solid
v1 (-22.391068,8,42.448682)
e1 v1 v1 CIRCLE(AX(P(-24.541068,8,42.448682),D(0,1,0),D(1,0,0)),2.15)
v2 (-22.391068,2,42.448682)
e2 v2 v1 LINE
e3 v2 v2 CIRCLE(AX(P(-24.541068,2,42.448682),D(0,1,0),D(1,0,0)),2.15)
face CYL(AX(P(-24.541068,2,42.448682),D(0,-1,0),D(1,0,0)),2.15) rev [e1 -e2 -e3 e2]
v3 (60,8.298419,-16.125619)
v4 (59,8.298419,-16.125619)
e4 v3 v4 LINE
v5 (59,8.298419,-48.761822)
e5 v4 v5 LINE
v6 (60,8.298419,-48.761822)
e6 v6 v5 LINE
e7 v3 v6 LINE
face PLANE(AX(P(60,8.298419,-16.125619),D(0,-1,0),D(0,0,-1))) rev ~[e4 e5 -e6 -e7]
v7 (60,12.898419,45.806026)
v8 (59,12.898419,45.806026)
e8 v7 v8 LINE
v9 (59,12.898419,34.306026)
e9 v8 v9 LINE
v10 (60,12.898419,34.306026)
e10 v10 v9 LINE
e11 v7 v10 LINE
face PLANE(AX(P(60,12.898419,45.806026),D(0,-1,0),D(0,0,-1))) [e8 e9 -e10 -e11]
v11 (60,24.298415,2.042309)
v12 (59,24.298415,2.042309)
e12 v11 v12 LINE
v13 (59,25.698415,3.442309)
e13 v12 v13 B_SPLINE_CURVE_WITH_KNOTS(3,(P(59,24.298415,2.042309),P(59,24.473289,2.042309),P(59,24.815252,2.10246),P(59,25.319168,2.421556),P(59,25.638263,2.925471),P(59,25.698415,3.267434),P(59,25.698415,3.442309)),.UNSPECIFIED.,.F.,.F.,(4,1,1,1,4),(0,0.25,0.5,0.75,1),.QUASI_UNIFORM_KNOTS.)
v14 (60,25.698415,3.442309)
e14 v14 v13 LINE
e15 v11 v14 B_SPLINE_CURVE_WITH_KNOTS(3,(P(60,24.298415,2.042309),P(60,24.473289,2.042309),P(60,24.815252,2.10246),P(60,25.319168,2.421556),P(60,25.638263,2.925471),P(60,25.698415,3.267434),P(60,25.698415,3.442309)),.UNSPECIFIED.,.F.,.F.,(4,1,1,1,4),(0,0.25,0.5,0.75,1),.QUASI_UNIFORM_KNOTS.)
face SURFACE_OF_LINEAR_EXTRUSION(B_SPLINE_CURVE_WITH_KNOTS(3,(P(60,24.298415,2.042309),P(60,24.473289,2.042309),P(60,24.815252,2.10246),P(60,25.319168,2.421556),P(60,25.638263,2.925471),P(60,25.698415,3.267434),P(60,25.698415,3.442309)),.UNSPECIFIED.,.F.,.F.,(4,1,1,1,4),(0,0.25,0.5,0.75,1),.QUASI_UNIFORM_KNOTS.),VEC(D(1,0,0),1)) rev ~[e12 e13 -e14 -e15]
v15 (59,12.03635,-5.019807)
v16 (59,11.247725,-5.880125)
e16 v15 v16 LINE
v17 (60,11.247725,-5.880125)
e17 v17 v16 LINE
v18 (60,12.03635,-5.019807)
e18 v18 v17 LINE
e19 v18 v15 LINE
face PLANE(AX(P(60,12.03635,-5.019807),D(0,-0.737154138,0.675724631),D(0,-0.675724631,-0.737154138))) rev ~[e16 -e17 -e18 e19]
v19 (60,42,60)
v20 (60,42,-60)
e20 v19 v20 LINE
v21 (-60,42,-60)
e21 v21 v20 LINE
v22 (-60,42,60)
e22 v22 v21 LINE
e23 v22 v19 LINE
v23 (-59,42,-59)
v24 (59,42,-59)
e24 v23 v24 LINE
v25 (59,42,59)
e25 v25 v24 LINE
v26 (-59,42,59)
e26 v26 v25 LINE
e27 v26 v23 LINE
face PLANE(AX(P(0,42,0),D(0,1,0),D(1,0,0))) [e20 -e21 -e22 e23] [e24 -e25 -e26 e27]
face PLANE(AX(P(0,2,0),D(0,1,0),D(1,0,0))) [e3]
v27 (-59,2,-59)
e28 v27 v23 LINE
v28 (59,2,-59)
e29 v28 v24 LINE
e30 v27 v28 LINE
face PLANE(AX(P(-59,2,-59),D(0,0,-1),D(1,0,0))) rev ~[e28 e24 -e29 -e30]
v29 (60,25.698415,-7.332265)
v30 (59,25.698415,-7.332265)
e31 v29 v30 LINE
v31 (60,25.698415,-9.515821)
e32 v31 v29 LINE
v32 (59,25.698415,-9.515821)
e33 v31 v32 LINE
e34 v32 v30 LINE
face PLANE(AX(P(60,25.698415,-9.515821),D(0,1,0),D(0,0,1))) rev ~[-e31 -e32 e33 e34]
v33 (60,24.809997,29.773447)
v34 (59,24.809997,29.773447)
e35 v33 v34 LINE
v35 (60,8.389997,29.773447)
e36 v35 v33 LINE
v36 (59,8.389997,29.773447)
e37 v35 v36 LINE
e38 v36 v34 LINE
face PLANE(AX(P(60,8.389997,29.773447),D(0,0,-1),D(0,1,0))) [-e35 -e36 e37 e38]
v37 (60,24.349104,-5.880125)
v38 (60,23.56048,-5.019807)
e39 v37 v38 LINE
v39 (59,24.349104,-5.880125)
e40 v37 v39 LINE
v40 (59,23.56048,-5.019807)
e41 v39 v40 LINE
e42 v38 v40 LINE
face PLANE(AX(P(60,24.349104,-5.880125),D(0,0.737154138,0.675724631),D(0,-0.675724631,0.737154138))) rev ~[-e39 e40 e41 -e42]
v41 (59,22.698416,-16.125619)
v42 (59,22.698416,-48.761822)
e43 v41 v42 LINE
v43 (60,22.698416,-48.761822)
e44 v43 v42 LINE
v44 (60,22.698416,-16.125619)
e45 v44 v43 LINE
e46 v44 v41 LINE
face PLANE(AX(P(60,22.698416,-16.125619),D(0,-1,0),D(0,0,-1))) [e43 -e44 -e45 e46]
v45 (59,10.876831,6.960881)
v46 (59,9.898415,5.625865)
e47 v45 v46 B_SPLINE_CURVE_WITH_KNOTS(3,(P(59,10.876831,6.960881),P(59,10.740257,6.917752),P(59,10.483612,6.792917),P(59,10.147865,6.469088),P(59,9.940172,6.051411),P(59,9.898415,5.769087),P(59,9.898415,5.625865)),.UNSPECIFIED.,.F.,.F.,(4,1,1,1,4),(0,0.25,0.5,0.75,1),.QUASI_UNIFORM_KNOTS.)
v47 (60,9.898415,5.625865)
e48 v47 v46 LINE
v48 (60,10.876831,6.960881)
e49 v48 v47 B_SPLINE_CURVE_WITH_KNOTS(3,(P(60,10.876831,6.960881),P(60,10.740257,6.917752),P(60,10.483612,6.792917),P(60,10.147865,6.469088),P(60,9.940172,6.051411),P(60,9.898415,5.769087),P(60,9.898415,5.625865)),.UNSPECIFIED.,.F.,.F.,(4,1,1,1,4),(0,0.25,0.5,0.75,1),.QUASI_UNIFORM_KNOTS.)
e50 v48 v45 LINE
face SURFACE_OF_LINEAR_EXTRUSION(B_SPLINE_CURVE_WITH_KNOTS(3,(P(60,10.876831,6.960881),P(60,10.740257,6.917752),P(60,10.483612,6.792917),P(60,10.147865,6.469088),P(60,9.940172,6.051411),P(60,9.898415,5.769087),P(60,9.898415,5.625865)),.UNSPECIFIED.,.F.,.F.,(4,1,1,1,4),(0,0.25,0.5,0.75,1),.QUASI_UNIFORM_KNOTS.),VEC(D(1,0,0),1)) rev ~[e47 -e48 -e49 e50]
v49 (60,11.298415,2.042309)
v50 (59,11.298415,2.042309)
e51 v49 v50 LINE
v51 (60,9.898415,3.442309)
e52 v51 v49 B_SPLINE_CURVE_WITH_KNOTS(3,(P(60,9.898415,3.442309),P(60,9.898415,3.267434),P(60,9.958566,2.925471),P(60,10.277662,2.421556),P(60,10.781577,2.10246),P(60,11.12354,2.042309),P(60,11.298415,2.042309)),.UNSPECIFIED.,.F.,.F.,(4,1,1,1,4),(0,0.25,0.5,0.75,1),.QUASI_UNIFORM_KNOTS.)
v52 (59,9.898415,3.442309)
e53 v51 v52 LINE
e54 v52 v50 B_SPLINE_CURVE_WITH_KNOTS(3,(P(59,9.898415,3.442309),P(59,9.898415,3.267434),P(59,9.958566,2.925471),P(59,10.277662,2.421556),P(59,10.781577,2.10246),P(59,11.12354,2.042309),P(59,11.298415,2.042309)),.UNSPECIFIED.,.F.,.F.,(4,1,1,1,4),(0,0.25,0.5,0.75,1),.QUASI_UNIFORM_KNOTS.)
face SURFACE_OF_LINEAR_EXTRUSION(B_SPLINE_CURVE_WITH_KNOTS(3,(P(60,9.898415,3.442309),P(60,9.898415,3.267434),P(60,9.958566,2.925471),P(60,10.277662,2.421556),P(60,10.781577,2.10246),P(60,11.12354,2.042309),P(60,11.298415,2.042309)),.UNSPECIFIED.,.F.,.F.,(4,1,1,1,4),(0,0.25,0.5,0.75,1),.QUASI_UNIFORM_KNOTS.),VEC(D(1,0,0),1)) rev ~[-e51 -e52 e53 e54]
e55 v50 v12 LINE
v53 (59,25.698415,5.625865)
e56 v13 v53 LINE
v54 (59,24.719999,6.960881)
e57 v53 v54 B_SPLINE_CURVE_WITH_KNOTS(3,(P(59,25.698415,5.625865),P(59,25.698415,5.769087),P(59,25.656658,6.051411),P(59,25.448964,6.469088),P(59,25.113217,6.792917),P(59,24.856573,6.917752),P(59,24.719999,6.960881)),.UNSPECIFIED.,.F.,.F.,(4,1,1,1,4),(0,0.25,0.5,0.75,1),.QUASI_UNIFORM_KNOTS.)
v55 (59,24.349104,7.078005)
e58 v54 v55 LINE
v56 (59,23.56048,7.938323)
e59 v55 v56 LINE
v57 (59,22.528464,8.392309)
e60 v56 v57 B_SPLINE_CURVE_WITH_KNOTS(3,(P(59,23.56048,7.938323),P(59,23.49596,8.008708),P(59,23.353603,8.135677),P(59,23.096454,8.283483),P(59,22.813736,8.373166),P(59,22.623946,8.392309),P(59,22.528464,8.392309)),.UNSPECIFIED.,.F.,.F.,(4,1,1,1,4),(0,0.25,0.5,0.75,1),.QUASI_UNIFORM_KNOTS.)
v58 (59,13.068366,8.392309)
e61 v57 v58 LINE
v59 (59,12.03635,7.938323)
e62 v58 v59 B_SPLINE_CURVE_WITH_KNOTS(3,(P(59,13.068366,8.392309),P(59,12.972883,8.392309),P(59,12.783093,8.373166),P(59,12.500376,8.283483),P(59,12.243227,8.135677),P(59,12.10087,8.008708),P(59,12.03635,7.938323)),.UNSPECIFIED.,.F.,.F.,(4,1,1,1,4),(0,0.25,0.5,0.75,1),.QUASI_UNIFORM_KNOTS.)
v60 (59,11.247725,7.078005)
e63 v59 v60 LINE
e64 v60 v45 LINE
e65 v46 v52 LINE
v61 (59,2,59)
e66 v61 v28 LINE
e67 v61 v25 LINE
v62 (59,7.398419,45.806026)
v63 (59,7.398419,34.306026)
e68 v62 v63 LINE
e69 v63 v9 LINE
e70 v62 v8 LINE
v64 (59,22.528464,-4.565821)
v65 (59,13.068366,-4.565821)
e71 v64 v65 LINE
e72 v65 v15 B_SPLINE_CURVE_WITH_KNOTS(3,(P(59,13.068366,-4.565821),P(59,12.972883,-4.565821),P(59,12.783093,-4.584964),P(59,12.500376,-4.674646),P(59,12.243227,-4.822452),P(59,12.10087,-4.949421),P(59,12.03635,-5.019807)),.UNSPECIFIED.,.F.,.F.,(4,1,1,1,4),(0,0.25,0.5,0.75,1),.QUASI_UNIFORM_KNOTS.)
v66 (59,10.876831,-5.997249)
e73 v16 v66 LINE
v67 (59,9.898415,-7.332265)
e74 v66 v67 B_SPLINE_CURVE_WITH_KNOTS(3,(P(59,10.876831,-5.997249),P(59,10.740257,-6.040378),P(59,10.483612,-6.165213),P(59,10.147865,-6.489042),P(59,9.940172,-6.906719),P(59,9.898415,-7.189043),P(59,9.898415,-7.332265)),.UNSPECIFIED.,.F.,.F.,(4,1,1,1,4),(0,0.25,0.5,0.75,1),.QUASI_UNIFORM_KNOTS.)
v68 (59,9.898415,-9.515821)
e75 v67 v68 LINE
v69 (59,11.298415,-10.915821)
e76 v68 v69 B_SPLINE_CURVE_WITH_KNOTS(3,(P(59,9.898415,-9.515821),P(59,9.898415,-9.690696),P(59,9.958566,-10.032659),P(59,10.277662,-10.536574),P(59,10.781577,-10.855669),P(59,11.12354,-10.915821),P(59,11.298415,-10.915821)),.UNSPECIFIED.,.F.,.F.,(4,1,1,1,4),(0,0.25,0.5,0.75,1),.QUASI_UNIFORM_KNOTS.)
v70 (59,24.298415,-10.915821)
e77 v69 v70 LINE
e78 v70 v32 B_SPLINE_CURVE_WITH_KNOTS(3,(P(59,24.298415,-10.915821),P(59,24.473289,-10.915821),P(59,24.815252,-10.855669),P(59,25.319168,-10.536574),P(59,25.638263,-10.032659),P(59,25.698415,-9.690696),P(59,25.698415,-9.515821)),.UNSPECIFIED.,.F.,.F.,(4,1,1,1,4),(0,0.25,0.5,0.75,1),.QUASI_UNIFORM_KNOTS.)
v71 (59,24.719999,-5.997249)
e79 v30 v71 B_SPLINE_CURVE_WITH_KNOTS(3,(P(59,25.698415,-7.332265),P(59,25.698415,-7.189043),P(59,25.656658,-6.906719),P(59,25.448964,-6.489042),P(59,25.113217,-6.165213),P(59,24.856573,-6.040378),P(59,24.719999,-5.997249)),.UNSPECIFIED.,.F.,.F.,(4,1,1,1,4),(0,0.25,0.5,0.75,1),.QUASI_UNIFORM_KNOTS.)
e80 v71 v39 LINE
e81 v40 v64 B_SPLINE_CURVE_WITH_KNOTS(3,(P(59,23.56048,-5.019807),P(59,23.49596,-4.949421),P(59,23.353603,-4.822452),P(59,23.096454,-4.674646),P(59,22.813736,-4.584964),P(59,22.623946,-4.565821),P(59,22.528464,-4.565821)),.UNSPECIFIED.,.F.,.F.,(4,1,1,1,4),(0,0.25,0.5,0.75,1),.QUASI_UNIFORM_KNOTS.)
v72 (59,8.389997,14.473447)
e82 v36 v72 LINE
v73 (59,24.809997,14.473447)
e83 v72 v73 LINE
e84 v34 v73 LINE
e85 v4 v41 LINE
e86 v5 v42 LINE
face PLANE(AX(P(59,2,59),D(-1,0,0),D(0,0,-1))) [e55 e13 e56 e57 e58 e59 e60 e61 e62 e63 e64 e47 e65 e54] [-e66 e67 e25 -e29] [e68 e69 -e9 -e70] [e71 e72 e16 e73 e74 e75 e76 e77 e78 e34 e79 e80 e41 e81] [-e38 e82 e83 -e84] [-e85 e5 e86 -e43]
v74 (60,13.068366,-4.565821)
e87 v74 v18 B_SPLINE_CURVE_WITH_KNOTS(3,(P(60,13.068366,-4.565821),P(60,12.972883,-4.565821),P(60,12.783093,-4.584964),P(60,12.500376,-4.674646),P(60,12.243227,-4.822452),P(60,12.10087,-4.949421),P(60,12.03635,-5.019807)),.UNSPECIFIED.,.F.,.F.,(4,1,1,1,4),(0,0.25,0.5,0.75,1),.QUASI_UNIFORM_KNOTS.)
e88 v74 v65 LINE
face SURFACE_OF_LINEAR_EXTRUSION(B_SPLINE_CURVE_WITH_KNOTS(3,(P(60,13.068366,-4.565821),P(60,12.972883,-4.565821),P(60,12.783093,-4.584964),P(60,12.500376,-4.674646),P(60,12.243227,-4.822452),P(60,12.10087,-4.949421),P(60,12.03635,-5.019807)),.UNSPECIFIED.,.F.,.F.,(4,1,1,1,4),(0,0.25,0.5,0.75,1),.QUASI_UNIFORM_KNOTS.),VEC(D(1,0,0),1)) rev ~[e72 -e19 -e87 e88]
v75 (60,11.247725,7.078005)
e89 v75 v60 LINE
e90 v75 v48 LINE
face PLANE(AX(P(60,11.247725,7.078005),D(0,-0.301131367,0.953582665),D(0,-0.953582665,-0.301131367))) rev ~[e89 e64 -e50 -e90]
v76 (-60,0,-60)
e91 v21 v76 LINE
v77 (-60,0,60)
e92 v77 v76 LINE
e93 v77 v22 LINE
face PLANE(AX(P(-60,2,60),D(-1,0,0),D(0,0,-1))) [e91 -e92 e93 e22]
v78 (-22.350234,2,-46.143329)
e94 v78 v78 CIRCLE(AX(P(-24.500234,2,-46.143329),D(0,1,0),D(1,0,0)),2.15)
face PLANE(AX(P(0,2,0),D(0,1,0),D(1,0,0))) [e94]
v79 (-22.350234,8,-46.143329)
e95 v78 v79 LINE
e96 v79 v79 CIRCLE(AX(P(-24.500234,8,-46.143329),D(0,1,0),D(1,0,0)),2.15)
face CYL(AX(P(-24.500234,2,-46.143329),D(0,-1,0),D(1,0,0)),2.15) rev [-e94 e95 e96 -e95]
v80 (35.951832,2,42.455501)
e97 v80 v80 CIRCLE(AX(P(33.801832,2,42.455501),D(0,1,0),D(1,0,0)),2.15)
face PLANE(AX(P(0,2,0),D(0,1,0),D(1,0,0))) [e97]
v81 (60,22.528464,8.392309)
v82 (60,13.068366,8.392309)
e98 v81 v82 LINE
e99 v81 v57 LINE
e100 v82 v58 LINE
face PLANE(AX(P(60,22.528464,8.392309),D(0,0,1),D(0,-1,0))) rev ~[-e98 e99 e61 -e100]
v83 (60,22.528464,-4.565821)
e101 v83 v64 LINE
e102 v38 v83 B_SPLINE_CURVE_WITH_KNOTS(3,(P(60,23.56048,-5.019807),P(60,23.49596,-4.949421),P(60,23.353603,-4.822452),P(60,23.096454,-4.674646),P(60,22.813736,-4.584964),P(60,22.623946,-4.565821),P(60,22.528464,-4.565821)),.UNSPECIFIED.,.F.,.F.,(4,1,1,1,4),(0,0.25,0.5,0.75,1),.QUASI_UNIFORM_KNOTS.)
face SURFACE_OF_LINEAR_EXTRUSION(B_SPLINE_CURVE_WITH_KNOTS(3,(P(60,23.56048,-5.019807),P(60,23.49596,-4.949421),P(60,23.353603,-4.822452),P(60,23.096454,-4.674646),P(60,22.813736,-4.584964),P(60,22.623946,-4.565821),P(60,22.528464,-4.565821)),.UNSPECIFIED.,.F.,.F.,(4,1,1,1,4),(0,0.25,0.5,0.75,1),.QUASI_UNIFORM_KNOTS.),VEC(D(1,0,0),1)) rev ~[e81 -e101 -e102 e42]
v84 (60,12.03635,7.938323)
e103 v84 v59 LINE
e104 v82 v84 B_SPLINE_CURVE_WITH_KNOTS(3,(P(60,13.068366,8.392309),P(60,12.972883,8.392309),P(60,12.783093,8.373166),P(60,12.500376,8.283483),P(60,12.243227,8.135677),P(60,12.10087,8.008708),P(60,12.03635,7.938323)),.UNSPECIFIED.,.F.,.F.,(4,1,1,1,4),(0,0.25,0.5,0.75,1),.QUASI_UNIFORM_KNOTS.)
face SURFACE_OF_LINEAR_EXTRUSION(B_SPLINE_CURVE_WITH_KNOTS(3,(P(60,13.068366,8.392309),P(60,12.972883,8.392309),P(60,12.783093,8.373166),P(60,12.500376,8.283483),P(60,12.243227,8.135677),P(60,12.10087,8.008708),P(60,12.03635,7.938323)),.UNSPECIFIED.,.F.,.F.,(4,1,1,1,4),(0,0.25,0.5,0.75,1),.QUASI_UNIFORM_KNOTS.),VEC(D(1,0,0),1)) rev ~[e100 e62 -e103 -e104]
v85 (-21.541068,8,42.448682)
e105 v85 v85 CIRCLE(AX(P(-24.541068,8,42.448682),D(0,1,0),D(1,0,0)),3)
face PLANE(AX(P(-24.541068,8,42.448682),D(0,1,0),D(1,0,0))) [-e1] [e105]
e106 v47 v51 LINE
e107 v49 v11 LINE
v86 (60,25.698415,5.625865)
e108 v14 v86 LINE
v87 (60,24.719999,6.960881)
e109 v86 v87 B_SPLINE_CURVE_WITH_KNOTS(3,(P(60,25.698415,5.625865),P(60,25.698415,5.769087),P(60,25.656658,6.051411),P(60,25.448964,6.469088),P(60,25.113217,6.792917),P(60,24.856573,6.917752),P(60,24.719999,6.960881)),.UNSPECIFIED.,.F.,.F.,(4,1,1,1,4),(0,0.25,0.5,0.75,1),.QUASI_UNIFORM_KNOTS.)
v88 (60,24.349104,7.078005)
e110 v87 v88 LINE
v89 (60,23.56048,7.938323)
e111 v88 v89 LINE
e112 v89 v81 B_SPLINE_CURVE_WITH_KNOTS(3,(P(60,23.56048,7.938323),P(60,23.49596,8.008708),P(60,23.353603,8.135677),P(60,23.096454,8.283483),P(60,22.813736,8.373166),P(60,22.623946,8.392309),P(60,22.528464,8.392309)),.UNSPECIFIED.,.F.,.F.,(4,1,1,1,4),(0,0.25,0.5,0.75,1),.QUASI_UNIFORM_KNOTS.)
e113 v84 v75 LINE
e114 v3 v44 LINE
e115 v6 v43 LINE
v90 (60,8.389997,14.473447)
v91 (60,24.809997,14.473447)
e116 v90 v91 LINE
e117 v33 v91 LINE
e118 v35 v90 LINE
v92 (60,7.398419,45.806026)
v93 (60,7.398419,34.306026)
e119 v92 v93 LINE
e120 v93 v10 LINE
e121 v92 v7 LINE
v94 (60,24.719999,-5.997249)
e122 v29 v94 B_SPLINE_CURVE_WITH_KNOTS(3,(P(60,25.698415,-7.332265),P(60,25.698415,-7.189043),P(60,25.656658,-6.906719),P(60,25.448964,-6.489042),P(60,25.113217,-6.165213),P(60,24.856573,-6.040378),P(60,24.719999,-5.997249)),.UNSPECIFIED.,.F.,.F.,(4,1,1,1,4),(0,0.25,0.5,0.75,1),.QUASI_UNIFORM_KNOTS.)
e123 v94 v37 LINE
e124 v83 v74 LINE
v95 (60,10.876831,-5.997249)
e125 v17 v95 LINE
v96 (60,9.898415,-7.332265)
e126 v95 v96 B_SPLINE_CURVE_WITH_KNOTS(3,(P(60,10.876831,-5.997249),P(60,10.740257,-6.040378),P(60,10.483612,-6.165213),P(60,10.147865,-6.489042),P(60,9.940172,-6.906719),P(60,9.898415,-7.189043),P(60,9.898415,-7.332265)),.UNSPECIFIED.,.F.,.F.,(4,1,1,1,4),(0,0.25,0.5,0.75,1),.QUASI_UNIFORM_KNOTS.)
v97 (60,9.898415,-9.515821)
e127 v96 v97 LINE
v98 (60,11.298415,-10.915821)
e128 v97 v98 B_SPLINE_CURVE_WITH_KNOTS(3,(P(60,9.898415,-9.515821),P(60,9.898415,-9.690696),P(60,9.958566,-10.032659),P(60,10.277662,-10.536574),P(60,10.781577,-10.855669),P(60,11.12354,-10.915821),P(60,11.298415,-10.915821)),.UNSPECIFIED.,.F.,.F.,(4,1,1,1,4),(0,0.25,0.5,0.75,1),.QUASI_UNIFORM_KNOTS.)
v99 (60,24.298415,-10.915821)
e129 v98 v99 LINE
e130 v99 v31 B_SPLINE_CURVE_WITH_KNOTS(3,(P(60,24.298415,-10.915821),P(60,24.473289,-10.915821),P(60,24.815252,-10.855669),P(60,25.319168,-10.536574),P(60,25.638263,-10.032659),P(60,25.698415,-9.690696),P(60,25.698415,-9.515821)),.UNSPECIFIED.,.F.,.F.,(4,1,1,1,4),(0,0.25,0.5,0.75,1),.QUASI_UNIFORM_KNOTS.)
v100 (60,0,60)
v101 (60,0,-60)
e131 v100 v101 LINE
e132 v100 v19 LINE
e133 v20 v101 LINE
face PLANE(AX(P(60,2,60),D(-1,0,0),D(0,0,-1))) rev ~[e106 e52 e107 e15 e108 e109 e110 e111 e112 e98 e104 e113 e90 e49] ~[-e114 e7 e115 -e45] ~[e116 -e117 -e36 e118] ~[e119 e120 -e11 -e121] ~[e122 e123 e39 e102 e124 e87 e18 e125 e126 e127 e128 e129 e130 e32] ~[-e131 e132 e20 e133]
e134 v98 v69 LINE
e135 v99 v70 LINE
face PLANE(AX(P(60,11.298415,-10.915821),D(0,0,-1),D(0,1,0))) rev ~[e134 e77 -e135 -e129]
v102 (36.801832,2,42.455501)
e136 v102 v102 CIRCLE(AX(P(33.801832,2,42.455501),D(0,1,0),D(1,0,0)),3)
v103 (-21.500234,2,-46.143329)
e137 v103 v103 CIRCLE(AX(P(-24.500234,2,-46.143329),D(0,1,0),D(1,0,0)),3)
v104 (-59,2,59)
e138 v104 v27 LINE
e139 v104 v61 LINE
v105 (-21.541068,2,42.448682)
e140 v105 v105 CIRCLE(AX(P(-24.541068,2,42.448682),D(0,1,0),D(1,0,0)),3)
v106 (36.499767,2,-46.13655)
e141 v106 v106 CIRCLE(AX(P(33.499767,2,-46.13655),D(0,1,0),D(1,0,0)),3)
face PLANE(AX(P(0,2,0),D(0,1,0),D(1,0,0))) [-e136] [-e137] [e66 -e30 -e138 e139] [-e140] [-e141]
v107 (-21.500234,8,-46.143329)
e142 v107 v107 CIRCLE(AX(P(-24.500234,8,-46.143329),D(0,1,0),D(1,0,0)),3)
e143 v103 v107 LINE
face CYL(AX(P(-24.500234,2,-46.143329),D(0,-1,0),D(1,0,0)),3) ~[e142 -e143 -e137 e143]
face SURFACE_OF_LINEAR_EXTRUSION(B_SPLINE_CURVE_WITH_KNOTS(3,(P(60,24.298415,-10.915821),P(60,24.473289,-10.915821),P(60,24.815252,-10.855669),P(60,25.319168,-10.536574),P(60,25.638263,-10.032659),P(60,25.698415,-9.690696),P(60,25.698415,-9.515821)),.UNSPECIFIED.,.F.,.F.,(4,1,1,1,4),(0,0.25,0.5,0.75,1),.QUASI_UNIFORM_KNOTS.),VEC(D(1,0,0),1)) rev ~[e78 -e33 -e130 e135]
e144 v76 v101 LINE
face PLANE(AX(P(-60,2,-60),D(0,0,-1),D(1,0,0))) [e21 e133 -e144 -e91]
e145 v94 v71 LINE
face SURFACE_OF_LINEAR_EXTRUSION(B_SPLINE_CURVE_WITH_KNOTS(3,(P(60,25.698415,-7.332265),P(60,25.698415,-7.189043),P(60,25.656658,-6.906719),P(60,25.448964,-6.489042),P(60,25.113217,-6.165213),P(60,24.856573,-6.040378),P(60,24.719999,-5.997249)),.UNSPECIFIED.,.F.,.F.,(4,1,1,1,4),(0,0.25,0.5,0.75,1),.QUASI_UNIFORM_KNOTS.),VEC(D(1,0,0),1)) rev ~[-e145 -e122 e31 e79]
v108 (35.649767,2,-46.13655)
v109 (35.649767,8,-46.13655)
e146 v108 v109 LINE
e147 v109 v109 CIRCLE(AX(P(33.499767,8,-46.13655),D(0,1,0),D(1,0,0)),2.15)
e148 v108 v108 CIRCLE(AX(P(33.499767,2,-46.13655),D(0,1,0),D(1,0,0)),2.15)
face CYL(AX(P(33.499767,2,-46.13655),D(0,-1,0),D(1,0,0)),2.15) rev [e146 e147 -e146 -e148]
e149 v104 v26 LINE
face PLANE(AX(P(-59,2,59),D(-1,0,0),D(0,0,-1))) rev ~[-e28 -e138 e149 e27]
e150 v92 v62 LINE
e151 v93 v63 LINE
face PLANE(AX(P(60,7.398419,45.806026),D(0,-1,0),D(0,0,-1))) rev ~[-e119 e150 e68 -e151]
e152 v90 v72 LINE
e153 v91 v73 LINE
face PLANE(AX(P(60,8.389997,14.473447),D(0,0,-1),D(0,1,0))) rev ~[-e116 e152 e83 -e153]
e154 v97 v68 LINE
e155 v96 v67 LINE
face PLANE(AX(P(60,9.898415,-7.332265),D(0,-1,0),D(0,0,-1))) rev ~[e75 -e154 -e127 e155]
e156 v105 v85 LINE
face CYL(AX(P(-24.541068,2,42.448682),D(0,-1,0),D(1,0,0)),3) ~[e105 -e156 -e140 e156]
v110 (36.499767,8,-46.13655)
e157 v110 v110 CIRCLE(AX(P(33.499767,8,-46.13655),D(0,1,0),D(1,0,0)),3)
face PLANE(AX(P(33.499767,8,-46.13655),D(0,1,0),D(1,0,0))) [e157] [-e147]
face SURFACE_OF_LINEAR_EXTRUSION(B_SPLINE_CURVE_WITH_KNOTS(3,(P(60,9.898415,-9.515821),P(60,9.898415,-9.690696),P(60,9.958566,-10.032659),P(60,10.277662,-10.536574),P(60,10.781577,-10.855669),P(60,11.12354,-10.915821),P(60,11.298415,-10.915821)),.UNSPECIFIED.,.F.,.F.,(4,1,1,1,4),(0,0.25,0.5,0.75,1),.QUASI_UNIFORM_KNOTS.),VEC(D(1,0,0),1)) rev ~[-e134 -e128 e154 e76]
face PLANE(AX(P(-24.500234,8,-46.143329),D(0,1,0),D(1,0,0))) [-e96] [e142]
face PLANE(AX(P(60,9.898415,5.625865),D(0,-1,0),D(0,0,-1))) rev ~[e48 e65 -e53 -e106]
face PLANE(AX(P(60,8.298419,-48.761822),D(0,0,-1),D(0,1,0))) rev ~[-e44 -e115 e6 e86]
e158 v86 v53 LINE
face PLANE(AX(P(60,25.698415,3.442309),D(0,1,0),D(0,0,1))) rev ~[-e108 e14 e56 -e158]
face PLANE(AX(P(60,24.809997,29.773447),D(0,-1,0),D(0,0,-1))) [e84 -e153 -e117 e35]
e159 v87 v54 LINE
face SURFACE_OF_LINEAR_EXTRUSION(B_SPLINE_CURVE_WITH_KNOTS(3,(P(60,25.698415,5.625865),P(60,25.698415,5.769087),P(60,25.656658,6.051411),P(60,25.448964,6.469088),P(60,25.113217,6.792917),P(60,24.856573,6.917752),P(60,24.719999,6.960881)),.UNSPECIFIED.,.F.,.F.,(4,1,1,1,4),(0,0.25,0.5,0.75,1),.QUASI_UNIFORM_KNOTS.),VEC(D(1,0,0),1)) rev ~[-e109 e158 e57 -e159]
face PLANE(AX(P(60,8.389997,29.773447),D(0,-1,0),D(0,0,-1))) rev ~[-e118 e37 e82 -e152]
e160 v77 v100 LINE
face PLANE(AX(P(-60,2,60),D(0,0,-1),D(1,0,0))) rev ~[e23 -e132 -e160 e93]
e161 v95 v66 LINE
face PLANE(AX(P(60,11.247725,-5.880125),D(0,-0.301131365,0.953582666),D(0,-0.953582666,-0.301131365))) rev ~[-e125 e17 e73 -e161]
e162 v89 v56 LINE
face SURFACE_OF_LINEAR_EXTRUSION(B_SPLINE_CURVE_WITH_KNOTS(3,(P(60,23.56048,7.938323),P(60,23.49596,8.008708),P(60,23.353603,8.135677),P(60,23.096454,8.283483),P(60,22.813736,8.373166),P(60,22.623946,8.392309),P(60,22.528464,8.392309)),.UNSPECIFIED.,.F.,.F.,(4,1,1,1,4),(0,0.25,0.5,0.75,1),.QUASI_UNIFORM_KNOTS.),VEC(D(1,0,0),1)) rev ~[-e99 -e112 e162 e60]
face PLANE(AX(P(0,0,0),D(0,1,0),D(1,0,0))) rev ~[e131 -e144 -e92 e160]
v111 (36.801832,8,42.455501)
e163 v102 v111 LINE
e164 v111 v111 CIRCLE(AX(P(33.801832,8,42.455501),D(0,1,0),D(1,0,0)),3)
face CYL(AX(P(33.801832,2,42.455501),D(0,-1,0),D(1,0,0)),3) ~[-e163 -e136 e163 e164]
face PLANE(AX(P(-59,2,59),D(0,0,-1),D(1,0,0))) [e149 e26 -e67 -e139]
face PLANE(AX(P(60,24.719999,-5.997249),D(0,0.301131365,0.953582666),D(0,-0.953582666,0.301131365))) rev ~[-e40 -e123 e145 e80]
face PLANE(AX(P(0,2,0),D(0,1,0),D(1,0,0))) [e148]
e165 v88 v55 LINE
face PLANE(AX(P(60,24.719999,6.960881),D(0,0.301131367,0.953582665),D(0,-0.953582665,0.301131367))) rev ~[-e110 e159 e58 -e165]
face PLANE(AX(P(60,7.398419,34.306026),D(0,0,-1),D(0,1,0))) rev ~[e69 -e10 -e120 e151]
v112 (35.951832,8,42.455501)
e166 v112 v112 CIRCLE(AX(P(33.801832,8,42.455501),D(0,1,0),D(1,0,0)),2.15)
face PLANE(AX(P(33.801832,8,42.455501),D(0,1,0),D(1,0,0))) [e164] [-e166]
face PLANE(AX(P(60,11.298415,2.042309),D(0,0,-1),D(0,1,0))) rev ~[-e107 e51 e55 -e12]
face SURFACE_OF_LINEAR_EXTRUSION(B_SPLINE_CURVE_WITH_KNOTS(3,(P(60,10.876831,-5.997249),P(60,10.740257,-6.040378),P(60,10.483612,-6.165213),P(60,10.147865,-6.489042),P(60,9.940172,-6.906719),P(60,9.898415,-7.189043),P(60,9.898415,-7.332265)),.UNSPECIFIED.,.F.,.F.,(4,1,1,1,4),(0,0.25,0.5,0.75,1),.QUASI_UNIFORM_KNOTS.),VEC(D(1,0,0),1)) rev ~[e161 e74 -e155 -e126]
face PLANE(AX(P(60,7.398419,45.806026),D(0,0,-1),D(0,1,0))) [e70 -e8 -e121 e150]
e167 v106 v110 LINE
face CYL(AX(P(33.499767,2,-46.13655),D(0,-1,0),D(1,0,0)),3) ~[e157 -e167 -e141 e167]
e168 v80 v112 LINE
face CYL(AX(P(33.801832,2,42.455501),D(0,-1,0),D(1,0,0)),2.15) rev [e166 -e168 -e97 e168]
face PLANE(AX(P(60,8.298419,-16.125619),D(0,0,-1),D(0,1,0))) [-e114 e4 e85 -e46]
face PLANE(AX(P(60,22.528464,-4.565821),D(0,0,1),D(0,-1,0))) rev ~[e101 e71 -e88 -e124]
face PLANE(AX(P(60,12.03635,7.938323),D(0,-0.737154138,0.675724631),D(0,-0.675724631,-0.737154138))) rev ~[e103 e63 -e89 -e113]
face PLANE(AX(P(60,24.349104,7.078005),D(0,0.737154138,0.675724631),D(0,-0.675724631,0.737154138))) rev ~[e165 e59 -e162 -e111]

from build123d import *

# Parameters (mm, degrees)
SKETCH1_W           = 120
SKETCH1_H           = 120
BOSS_EXTRUDE1_DEPTH = 2
SKETCH3_R           = 3
SKETCH3_R_2         = 2.15
BOSS_EXTRUDE2_DEPTH = 6
SKETCH4_W           = 120
SKETCH4_H           = 120
SKETCH4_W_2         = 118
SKETCH4_H_2         = 118
BOSS_EXTRUDE3_DEPTH = 40
SKETCH5_W           = 15.299999553
SKETCH5_H           = 16.42
SKETCH5_W_2         = 32.63620328
SKETCH5_H_2         = 14.399997005
SKETCH5_W_3         = 11.5
SKETCH5_H_3         = 5.5
CUT_EXTRUDE1_DEPTH  = 1


with BuildPart() as part:
    # Sketch1 → Boss-Extrude1 (new body)
    with BuildSketch(Plane(origin=(0, 0, 0), x_dir=(1, 0, 0), z_dir=(0, 1, 0))):
        Rectangle(SKETCH1_W, SKETCH1_H)
    extrude(amount=BOSS_EXTRUDE1_DEPTH)

    # Sketch3 → Boss-Extrude2 (add)
    with BuildSketch(Plane(origin=(0, 2, 0), x_dir=(1, 0, 0), z_dir=(0, 1, 0))):
        with Locations((-24.500233826, 46.14332907)):
            Circle(SKETCH3_R)
        with Locations((-24.500233826, 46.14332907)):
            Circle(SKETCH3_R_2, mode=Mode.SUBTRACT)
        with Locations((33.499766618, 46.136550123)):
            Circle(SKETCH3_R)
        with Locations((33.499766618, 46.136550123)):
            Circle(SKETCH3_R_2, mode=Mode.SUBTRACT)
        with Locations((33.801832122, -42.455500627)):
            Circle(SKETCH3_R)
        with Locations((33.801832122, -42.455500627)):
            Circle(SKETCH3_R_2, mode=Mode.SUBTRACT)
        with Locations((-24.541068319, -42.448681603)):
            Circle(SKETCH3_R)
        with Locations((-24.541068319, -42.448681603)):
            Circle(SKETCH3_R_2, mode=Mode.SUBTRACT)
    extrude(amount=BOSS_EXTRUDE2_DEPTH)

    # Sketch4 → Boss-Extrude3 (add)
    with BuildSketch(Plane(origin=(0, 2, 0), x_dir=(1, 0, 0), z_dir=(0, 1, 0))):
        Rectangle(SKETCH4_W, SKETCH4_H)
        Rectangle(SKETCH4_W_2, SKETCH4_H_2, mode=Mode.SUBTRACT)
    extrude(amount=BOSS_EXTRUDE3_DEPTH)

    # Sketch5 → Cut-Extrude1 (cut)
    with BuildSketch(Plane(origin=(60, 0, 0), x_dir=(0, 0, -1), z_dir=(1, 0, 0))):
        with Locations((-22.123446946, 16.599997028)):
            Rectangle(SKETCH5_W, SKETCH5_H)
        with BuildLine():
            Line((-6.960880715, 24.719998619), (-7.078005207, 24.349104393))
            Line((-7.078005207, 24.349104393), (-7.938323111, 23.560479642))
            add(Edge.make_bspline(
                [(-7.938323111, 23.560479642), (-8.008708428, 23.495959767), (-8.135677464, 23.353602564), (-8.283483399, 23.096453844), (-8.373165531, 22.813736363), (-8.392308628, 22.623946344), (-8.392308628, 22.528463847)],
                knots=[0, 0, 0, 0, 0.25, 0.5, 0.75, 1, 1, 1, 1], degree=3))
            Line((-8.392308628, 22.528463847), (-8.392308628, 13.068365563))
            add(Edge.make_bspline(
                [(-8.392308628, 13.068365563), (-8.392308628, 12.972883067), (-8.373165531, 12.783093048), (-8.283483399, 12.500375567), (-8.135677464, 12.243226847), (-8.008708428, 12.100869643), (-7.938323111, 12.036349768)],
                knots=[0, 0, 0, 0, 0.25, 0.5, 0.75, 1, 1, 1, 1], degree=3))
            Line((-7.938323111, 12.036349768), (-7.078005207, 11.247725017))
            Line((-7.078005207, 11.247725017), (-6.960880715, 10.876830791))
            add(Edge.make_bspline(
                [(-6.960880715, 10.876830791), (-6.917752001, 10.740256529), (-6.792916696, 10.483611985), (-6.46908795, 10.147865428), (-6.051410861, 9.940171767), (-5.769087247, 9.898414705), (-5.625864989, 9.898414705)],
                knots=[0, 0, 0, 0, 0.25, 0.5, 0.75, 1, 1, 1, 1], degree=3))
            Line((-5.625864989, 9.898414705), (-3.442308658, 9.898414705))
            add(Edge.make_bspline(
                [(-3.442308658, 9.898414705), (-3.267434145, 9.898414705), (-2.925471239, 9.958566446), (-2.42155584, 10.277661886), (-2.102460404, 10.781577287), (-2.042308664, 11.123540192), (-2.042308664, 11.298414705)],
                knots=[0, 0, 0, 0, 0.25, 0.5, 0.75, 1, 1, 1, 1], degree=3))
            Line((-2.042308664, 11.298414705), (-2.042308664, 24.298414705))
            add(Edge.make_bspline(
                [(-2.042308664, 24.298414705), (-2.042308664, 24.473289219), (-2.102460404, 24.815252124), (-2.42155584, 25.319167525), (-2.925471239, 25.638262964), (-3.267434145, 25.698414705), (-3.442308658, 25.698414705)],
                knots=[0, 0, 0, 0, 0.25, 0.5, 0.75, 1, 1, 1, 1], degree=3))
            Line((-3.442308658, 25.698414705), (-5.625864989, 25.698414705))
            add(Edge.make_bspline(
                [(-5.625864989, 25.698414705), (-5.769087247, 25.698414705), (-6.051410861, 25.656657644), (-6.46908795, 25.448963983), (-6.792916696, 25.113217425), (-6.917752001, 24.856572882), (-6.960880715, 24.719998619)],
                knots=[0, 0, 0, 0, 0.25, 0.5, 0.75, 1, 1, 1, 1], degree=3))
        make_face()
        with BuildLine():
            Line((5.997249079, 24.719998619), (5.880124588, 24.349104393))
            Line((5.880124588, 24.349104393), (5.019806683, 23.560479642))
            add(Edge.make_bspline(
                [(5.019806683, 23.560479642), (4.949421366, 23.495959767), (4.82245233, 23.353602564), (4.674646395, 23.096453844), (4.584964263, 22.813736363), (4.565821167, 22.623946344), (4.565821167, 22.528463847)],
                knots=[0, 0, 0, 0, 0.25, 0.5, 0.75, 1, 1, 1, 1], degree=3))
            Line((4.565821167, 22.528463847), (4.565821167, 13.068365563))
            add(Edge.make_bspline(
                [(4.565821167, 13.068365563), (4.565821167, 12.972883067), (4.584964263, 12.783093048), (4.674646395, 12.500375567), (4.82245233, 12.243226847), (4.949421366, 12.100869643), (5.019806683, 12.036349768)],
                knots=[0, 0, 0, 0, 0.25, 0.5, 0.75, 1, 1, 1, 1], degree=3))
            Line((5.019806683, 12.036349768), (5.880124588, 11.247725017))
            Line((5.880124588, 11.247725017), (5.997249079, 10.876830791))
            add(Edge.make_bspline(
                [(5.997249079, 10.876830791), (6.040377794, 10.740256529), (6.165213099, 10.483611985), (6.489041844, 10.147865428), (6.906718933, 9.940171767), (7.189042547, 9.898414705), (7.332264805, 9.898414705)],
                knots=[0, 0, 0, 0, 0.25, 0.5, 0.75, 1, 1, 1, 1], degree=3))
            Line((7.332264805, 9.898414705), (9.515821136, 9.898414705))
            add(Edge.make_bspline(
                [(9.515821136, 9.898414705), (9.69069565, 9.898414705), (10.032658555, 9.958566446), (10.536573954, 10.277661886), (10.85566939, 10.781577287), (10.91582113, 11.123540192), (10.91582113, 11.298414705)],
                knots=[0, 0, 0, 0, 0.25, 0.5, 0.75, 1, 1, 1, 1], degree=3))
            Line((10.91582113, 11.298414705), (10.91582113, 24.298414705))
            add(Edge.make_bspline(
                [(10.91582113, 24.298414705), (10.91582113, 24.473289219), (10.85566939, 24.815252124), (10.536573954, 25.319167525), (10.032658555, 25.638262964), (9.69069565, 25.698414705), (9.515821136, 25.698414705)],
                knots=[0, 0, 0, 0, 0.25, 0.5, 0.75, 1, 1, 1, 1], degree=3))
            Line((9.515821136, 25.698414705), (7.332264805, 25.698414705))
            add(Edge.make_bspline(
                [(7.332264805, 25.698414705), (7.189042547, 25.698414705), (6.906718933, 25.656657644), (6.489041844, 25.448963983), (6.165213099, 25.113217425), (6.040377793, 24.856572882), (5.997249079, 24.719998619)],
                knots=[0, 0, 0, 0, 0.25, 0.5, 0.75, 1, 1, 1, 1], degree=3))
        make_face()
        with Locations((32.443720838, 15.498417022)):
            Rectangle(SKETCH5_W_2, SKETCH5_H_2)
        with Locations((-40.056026235, 10.14841852)):
            Rectangle(SKETCH5_W_3, SKETCH5_H_3)
    extrude(amount=-CUT_EXTRUDE1_DEPTH, mode=Mode.SUBTRACT)


solid = part.part
